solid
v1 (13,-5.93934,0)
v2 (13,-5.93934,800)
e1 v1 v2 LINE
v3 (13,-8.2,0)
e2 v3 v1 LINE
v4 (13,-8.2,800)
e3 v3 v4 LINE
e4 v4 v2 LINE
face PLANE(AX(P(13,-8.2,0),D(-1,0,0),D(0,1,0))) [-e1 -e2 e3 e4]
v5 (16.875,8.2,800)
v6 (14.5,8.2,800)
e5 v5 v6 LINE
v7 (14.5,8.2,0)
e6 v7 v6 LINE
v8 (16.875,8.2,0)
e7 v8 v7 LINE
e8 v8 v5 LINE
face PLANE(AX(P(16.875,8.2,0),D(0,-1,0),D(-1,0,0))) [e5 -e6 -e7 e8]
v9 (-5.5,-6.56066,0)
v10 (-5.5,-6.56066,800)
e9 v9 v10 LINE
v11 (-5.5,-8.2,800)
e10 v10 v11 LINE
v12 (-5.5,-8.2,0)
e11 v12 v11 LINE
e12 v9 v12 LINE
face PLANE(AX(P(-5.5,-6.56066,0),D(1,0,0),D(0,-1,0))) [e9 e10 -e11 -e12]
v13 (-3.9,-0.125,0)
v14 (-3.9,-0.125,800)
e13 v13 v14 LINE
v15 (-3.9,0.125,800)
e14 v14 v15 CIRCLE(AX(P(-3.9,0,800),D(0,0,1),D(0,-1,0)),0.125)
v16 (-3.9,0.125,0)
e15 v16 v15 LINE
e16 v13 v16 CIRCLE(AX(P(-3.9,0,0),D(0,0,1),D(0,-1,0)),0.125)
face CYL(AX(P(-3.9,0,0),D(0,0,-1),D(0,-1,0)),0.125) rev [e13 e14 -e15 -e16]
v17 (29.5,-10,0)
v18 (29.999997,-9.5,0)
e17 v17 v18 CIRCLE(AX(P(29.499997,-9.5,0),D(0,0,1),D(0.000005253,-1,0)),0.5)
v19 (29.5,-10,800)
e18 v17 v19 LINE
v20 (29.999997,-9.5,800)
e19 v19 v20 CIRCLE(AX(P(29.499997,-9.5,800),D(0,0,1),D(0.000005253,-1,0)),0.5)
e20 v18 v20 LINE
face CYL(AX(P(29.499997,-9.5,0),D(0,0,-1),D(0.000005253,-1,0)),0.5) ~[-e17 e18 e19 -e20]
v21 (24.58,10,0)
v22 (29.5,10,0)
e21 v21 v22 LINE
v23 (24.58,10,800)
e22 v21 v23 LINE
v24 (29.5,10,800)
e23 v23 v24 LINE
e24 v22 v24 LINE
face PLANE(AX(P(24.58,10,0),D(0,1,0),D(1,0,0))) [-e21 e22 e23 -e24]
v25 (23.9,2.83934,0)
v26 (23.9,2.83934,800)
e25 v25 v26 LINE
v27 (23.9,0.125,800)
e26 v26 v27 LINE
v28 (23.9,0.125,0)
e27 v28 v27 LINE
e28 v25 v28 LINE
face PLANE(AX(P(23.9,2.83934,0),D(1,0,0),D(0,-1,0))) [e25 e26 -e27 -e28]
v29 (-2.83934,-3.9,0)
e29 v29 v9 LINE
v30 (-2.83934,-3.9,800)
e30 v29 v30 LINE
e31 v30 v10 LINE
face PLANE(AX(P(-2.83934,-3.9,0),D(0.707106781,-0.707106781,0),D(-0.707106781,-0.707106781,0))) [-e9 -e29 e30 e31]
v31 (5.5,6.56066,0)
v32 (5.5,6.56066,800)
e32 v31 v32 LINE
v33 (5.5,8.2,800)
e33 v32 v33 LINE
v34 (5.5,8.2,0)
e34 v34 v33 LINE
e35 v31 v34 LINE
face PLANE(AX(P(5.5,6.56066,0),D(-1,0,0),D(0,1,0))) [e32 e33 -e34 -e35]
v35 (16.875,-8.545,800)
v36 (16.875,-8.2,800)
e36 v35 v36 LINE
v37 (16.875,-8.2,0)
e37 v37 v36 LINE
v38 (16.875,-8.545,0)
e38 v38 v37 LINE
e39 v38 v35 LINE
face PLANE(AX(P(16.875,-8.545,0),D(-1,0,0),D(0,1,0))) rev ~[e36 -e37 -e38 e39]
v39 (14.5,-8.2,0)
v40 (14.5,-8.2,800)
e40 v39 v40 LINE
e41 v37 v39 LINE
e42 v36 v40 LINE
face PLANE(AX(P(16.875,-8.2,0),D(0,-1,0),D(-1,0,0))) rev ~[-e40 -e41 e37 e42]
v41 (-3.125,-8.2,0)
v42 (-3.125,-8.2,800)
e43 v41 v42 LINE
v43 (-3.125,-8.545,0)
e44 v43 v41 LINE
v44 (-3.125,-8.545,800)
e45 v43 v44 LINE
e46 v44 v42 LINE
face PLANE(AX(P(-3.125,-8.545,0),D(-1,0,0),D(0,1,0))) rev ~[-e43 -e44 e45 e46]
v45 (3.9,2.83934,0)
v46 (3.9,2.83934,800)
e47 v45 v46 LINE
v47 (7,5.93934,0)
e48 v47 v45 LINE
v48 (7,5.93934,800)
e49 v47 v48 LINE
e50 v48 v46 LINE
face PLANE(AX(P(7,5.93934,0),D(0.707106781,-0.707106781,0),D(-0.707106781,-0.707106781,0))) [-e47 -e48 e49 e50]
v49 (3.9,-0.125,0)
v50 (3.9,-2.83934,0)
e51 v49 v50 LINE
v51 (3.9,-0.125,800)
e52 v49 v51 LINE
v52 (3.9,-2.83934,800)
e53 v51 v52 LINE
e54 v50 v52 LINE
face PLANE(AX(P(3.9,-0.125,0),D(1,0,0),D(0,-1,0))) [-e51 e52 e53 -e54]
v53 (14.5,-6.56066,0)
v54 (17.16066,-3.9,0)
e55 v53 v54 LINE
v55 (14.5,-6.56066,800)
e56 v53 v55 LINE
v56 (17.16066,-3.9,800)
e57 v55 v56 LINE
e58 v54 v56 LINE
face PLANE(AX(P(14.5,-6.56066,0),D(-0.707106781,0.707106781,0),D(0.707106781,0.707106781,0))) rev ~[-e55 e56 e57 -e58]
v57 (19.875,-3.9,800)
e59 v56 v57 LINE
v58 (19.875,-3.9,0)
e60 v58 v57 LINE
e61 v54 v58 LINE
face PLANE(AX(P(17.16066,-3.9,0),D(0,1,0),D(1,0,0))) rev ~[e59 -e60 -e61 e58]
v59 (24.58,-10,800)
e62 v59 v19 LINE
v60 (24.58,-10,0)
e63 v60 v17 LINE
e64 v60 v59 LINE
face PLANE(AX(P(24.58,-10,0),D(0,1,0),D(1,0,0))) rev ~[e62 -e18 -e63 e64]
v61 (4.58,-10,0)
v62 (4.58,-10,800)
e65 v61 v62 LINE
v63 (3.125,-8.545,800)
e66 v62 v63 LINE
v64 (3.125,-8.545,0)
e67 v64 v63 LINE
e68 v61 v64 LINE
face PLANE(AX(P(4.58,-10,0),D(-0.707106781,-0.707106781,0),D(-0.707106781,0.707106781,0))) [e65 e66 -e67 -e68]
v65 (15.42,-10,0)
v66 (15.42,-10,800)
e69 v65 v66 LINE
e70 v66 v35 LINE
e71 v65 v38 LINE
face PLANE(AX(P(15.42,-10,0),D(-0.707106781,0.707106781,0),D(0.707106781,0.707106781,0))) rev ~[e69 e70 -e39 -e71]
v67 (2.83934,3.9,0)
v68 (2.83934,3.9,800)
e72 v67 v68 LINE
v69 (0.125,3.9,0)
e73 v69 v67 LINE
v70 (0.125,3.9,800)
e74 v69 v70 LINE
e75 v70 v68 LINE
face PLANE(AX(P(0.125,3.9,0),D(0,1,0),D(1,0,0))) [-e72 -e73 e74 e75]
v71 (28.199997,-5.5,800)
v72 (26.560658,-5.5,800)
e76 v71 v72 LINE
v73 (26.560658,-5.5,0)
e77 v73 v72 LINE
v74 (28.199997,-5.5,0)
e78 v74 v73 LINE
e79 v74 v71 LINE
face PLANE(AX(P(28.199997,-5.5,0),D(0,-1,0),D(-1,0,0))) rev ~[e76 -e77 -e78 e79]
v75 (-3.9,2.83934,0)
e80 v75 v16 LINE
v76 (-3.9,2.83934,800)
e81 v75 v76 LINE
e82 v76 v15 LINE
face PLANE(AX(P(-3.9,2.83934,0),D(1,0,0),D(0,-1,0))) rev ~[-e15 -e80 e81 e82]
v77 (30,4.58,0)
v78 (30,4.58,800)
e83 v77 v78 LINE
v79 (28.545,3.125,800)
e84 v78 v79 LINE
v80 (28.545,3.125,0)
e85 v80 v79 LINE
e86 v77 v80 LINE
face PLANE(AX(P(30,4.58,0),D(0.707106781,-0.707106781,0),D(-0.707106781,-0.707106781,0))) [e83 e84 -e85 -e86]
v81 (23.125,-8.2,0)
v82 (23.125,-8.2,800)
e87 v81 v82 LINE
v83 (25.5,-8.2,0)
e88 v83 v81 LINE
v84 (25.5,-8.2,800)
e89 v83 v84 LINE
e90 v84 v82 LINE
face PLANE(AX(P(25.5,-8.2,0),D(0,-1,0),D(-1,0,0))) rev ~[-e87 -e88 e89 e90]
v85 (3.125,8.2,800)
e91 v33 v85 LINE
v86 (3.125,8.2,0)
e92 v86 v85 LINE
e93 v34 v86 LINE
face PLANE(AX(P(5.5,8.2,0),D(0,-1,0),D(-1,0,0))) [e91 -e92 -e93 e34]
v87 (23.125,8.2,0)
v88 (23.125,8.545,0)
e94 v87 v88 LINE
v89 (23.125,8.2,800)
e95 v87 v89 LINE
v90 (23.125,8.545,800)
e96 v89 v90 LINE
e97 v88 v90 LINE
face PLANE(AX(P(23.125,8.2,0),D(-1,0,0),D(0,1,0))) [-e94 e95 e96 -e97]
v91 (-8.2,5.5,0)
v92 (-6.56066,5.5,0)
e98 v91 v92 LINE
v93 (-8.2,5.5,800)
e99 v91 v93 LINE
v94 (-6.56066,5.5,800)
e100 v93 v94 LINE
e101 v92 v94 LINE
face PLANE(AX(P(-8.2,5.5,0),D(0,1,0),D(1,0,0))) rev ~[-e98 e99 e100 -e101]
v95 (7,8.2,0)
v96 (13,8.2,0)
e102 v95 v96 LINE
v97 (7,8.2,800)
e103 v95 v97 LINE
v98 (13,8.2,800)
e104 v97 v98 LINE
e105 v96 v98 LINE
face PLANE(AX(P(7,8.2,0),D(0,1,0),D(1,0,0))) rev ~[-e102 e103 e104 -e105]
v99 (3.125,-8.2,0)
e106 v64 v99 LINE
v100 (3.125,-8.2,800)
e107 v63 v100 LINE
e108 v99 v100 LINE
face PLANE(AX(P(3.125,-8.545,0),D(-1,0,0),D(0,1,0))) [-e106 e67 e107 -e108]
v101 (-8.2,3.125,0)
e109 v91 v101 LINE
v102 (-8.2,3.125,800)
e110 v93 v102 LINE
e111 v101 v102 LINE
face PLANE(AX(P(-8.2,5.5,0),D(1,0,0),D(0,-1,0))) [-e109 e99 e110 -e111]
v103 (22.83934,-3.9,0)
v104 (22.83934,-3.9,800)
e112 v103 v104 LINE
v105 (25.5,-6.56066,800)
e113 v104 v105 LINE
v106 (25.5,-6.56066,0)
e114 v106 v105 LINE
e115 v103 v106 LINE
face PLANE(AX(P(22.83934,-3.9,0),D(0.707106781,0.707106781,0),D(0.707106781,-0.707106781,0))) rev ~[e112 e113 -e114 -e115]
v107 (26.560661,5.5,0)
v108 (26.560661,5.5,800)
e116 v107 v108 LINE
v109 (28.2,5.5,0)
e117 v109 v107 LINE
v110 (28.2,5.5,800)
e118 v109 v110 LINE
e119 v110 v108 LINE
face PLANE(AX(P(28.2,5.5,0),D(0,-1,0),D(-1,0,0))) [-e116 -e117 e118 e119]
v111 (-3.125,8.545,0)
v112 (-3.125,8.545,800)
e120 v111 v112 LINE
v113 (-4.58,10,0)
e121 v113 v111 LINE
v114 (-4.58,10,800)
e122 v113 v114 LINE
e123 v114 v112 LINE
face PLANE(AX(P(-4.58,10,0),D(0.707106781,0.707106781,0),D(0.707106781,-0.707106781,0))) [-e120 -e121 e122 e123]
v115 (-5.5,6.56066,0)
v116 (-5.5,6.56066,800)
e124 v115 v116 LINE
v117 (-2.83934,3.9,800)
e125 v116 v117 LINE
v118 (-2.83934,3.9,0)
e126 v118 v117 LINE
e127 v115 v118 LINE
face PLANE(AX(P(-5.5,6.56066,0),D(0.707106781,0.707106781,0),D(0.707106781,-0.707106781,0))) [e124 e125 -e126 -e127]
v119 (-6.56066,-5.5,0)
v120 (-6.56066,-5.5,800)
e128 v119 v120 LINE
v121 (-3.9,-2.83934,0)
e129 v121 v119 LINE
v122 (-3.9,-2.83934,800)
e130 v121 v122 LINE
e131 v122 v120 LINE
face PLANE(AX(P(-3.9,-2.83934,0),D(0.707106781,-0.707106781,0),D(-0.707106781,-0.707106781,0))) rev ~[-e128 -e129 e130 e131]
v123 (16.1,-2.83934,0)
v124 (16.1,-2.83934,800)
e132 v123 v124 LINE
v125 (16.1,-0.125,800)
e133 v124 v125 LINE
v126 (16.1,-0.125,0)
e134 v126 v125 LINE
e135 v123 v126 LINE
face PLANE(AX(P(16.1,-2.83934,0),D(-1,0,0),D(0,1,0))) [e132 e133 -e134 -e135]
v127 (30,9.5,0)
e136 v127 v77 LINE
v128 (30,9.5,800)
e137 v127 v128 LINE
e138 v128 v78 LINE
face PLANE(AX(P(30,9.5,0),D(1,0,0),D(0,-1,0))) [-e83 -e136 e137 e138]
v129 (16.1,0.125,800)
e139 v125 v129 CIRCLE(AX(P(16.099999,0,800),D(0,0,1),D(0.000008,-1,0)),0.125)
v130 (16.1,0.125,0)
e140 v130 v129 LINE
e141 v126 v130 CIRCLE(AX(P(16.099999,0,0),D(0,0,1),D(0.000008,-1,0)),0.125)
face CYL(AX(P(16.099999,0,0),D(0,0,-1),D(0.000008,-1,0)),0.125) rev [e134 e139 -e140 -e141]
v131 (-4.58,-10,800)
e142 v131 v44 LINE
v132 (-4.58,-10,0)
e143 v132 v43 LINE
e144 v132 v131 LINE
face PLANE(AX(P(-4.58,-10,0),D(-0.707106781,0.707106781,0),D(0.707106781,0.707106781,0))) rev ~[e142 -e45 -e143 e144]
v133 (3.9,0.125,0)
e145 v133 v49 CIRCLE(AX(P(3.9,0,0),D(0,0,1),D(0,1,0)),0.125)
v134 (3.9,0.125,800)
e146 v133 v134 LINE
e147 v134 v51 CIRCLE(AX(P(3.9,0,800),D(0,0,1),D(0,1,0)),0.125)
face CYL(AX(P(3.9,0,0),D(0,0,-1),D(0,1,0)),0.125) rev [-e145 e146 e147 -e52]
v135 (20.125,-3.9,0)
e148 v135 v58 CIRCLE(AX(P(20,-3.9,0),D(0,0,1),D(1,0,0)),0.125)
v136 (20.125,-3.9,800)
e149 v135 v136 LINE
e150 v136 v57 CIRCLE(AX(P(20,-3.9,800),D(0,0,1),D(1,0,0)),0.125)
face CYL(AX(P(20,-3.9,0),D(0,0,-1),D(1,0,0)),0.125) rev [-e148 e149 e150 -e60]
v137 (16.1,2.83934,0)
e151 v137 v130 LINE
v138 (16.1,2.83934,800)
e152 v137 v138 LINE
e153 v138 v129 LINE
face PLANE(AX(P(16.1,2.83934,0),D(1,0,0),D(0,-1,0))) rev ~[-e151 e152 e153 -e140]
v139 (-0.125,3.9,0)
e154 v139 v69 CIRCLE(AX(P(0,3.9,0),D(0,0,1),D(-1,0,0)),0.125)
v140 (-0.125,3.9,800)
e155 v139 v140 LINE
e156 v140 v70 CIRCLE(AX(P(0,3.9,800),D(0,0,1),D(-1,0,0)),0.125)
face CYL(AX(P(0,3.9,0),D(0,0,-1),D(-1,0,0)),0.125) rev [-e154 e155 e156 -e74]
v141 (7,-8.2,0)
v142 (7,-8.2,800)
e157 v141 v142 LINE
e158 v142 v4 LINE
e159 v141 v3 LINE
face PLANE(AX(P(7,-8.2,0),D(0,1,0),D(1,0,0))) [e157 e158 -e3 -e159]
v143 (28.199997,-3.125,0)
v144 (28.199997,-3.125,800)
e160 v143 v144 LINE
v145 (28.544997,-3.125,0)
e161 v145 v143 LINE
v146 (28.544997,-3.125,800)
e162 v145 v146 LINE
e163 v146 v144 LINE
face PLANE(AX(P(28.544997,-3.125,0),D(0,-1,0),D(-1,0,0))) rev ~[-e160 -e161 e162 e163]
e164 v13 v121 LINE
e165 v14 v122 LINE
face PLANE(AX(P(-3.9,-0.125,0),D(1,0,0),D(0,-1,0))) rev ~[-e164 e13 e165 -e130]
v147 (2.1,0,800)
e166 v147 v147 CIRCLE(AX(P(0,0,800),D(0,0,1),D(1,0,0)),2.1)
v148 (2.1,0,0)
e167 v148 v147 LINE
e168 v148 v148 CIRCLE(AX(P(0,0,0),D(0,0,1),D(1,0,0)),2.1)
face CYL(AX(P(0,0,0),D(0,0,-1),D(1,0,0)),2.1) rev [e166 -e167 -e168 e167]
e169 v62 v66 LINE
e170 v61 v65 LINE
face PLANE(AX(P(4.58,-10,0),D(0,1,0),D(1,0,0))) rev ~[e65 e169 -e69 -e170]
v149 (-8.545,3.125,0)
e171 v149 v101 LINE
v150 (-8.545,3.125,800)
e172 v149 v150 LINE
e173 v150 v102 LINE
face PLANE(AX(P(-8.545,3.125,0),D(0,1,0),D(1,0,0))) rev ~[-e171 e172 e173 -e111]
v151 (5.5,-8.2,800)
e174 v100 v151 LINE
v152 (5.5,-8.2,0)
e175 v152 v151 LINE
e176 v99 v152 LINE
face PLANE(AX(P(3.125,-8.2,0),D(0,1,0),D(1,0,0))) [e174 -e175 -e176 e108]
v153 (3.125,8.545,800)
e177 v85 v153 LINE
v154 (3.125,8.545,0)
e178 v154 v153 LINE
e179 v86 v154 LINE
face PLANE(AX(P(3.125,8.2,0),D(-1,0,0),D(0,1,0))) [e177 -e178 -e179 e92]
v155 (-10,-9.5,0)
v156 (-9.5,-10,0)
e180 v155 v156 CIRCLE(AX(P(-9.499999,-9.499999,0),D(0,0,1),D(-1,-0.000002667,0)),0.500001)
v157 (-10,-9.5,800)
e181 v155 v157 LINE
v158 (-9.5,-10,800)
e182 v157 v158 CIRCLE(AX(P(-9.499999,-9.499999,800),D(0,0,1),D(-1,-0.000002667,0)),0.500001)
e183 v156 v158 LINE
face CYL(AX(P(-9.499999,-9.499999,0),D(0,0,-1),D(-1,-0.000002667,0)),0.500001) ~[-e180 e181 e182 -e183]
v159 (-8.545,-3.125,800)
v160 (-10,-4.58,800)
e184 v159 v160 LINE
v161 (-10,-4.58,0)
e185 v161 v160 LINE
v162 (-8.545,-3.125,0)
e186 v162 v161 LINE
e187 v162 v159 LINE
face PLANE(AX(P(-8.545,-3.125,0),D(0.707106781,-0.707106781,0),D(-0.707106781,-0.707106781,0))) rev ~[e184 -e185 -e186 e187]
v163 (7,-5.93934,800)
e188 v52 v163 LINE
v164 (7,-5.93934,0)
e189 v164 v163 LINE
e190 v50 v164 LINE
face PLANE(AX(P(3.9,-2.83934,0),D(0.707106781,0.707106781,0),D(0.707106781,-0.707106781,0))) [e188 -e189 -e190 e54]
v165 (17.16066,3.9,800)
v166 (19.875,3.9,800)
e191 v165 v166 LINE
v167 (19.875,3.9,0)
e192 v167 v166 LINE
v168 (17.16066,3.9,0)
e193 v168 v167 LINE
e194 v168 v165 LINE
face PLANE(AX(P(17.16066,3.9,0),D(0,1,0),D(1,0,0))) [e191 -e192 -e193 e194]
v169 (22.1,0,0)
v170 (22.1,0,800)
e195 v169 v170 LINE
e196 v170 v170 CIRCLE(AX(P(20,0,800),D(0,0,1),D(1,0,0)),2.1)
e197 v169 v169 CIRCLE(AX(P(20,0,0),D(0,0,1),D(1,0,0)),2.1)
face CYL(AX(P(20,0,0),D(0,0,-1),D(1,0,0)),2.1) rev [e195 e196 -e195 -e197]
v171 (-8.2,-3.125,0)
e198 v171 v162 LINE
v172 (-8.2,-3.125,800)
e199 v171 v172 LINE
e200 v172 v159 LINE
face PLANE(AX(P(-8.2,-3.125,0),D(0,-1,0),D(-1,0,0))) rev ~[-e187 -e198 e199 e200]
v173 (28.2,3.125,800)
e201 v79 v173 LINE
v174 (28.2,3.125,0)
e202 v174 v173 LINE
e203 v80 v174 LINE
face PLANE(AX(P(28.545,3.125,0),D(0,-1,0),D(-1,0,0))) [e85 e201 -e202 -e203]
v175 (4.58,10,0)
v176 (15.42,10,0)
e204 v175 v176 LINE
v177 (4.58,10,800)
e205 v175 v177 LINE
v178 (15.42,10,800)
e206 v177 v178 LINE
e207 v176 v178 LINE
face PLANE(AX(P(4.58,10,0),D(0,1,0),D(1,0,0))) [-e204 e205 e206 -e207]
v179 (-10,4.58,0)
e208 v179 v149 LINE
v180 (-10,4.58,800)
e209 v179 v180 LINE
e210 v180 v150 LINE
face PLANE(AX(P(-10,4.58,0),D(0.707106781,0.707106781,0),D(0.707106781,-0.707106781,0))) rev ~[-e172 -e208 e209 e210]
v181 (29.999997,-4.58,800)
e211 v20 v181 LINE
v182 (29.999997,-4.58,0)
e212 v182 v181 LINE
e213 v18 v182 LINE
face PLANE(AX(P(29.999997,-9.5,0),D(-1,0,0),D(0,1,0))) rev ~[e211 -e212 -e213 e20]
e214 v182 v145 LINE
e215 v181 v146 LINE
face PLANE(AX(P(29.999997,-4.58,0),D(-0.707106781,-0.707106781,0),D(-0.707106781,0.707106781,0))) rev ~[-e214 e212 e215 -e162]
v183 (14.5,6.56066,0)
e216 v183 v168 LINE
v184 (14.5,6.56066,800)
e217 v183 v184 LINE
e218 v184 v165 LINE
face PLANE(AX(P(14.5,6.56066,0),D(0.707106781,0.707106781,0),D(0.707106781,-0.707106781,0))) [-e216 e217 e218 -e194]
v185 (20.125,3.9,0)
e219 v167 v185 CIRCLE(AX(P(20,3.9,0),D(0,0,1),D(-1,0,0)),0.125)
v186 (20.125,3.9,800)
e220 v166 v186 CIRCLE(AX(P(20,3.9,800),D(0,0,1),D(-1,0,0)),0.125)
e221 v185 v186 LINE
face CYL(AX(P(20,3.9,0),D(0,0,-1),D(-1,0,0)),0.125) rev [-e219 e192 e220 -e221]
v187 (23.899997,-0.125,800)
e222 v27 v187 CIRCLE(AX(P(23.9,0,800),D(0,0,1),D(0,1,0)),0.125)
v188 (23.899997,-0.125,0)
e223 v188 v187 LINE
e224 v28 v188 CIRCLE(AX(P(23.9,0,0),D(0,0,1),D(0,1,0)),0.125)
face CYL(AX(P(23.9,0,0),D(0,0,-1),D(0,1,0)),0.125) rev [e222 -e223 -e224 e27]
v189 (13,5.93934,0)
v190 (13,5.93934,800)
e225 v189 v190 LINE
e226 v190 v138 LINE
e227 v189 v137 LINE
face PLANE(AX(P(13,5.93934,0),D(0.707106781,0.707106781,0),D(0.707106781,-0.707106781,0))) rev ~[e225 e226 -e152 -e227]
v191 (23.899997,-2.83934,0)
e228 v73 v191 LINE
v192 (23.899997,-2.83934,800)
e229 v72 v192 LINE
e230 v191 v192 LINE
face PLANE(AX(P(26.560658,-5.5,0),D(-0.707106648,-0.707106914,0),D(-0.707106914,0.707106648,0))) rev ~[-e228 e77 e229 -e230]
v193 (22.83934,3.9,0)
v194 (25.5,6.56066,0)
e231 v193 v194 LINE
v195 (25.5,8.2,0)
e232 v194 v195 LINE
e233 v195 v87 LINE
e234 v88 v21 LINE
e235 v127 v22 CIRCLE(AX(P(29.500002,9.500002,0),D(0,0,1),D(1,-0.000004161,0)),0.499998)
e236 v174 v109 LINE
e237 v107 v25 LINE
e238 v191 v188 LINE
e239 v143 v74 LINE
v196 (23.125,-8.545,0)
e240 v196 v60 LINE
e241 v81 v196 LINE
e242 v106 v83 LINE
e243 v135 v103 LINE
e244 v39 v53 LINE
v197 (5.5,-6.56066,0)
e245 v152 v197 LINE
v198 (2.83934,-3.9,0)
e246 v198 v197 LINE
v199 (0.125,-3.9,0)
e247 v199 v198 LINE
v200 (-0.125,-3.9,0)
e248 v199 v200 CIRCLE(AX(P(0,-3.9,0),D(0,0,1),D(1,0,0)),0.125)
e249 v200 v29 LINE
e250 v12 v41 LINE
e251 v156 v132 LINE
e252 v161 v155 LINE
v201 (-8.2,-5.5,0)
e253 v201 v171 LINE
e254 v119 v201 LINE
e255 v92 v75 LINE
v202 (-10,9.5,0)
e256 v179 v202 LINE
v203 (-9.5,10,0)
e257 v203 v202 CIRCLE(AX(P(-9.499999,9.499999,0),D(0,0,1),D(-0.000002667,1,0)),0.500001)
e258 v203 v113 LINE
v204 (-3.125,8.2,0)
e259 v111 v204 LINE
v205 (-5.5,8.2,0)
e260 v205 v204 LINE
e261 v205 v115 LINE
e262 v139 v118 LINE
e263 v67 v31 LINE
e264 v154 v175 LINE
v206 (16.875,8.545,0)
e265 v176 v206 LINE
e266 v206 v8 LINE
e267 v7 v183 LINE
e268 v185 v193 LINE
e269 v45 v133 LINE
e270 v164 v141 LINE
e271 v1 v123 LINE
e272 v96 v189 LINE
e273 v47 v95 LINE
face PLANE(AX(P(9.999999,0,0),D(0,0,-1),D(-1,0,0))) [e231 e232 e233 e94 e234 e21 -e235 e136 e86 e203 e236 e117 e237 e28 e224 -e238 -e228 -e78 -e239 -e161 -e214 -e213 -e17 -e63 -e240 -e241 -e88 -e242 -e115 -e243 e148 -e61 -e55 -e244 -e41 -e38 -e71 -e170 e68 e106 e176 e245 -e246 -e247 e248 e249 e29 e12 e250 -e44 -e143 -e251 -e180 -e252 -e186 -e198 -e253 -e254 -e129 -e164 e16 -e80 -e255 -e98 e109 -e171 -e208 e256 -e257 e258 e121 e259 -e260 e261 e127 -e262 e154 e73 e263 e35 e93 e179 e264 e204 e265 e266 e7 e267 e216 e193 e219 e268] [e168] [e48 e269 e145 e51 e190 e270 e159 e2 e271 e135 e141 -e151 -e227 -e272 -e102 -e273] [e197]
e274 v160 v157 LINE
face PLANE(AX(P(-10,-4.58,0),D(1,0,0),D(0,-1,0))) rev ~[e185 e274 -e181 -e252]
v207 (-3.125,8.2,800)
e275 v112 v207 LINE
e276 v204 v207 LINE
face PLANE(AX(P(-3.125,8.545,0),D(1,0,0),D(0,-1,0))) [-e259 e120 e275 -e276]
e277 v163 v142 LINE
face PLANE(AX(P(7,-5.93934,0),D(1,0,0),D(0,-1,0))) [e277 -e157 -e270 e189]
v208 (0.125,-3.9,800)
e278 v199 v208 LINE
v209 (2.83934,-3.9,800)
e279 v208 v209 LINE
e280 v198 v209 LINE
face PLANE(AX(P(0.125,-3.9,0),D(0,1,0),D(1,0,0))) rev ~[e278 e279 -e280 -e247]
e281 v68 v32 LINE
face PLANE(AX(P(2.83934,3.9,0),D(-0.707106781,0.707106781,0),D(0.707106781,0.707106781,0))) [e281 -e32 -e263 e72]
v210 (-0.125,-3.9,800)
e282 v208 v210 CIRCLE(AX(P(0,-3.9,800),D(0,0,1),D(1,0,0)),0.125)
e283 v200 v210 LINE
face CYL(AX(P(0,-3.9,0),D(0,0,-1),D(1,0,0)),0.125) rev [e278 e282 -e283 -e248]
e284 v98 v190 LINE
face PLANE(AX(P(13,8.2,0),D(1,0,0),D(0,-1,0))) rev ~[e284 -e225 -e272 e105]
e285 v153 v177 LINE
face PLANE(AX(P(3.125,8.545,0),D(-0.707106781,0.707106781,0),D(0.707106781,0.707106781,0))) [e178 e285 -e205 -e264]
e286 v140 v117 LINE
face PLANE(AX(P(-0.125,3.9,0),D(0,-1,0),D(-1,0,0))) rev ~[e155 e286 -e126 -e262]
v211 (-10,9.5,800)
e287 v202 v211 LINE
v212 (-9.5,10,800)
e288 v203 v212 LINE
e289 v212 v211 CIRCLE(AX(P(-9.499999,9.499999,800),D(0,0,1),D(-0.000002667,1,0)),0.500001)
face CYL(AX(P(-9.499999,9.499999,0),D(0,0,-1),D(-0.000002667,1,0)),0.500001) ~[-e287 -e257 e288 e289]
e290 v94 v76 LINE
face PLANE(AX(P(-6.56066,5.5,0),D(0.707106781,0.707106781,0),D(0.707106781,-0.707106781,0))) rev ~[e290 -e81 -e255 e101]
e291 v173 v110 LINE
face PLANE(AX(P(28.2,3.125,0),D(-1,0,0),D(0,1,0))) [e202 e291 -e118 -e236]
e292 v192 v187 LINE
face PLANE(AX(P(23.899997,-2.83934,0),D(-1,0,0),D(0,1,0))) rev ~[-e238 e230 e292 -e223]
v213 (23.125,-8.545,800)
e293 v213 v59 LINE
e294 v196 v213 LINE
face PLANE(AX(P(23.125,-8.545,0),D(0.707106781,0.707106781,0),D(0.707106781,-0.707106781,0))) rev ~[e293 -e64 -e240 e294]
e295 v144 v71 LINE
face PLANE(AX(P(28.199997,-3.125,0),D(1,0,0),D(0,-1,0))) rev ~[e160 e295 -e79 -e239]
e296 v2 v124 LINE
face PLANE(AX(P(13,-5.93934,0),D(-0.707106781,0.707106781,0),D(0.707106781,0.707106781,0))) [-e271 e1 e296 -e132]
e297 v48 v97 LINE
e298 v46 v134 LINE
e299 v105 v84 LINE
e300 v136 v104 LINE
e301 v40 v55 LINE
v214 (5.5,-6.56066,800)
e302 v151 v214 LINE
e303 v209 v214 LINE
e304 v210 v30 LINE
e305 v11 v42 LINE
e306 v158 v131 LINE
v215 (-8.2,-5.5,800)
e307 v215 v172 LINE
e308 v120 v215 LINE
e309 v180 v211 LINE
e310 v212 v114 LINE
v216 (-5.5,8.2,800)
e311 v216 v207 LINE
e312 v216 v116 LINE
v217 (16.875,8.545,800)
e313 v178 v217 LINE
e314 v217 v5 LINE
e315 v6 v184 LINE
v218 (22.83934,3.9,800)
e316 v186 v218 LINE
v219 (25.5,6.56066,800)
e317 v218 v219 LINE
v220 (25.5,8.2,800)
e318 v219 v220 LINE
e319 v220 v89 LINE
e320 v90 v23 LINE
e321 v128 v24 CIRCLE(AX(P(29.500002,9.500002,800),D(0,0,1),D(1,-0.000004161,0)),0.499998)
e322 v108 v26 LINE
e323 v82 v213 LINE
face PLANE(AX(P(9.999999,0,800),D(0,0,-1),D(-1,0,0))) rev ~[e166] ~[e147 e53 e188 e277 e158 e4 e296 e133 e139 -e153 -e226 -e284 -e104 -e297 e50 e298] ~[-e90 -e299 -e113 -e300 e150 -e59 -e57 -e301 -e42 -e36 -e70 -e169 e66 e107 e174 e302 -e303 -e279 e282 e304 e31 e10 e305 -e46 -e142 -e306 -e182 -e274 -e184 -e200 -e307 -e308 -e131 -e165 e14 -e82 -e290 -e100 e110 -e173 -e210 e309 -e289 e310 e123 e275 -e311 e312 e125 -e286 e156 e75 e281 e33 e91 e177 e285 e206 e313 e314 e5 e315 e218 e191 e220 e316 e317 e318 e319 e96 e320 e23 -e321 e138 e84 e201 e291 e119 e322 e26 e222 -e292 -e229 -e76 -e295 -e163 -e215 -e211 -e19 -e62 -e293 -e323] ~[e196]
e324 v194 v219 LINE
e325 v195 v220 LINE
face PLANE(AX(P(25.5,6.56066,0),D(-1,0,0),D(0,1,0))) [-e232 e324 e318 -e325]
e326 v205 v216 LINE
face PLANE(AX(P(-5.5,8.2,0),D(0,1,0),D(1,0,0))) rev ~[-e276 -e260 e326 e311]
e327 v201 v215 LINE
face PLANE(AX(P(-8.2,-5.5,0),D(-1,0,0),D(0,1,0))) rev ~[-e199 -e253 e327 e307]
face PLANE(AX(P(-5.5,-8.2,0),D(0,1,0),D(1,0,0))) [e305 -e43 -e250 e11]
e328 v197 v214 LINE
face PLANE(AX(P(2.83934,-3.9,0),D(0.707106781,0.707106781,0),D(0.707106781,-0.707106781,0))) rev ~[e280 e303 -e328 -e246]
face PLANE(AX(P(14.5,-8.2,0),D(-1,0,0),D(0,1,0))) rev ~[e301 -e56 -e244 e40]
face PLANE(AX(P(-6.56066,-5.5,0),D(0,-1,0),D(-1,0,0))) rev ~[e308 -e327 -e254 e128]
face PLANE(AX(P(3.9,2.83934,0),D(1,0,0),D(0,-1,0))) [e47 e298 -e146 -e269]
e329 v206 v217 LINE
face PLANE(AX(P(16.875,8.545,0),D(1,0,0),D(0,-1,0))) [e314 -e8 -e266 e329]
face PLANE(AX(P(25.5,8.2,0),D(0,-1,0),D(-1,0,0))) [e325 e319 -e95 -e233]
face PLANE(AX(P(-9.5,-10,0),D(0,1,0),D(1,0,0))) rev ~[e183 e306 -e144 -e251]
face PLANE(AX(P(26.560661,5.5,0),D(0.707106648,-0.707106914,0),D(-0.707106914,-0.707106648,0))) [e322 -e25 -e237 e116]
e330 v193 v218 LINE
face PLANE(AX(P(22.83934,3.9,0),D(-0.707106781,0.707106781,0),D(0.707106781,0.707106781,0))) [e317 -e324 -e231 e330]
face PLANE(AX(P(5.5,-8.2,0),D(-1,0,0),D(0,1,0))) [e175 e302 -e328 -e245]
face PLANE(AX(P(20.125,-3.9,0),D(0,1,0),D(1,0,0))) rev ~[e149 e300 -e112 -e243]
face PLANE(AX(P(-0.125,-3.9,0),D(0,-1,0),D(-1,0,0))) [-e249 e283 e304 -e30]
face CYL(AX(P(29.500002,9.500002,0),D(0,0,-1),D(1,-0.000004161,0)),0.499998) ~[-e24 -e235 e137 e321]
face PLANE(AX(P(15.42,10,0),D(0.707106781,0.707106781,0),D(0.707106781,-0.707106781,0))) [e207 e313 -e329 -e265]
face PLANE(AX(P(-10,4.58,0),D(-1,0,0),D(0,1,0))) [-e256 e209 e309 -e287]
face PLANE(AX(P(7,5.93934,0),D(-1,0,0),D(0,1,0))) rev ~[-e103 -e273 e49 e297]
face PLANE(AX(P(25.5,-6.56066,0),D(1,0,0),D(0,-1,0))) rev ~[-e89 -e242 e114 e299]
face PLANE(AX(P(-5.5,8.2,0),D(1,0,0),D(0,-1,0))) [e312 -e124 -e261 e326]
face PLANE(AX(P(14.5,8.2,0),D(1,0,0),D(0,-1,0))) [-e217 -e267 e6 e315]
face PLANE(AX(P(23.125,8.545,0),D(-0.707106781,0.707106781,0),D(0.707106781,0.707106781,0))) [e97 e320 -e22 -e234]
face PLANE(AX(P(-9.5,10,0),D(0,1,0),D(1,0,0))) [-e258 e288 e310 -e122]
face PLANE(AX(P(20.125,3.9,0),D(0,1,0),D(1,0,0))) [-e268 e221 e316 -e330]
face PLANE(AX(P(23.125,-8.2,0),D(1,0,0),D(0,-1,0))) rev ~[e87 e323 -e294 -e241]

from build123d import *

# Parameters (mm, degrees)
SKETCH_R  = 2.1
PAD_DEPTH = 800


with BuildPart() as part:
    # Sketch → Pad (new body)
    with BuildSketch(Plane.XY):
        with BuildLine():
            Line((-10, 4.58), (-10, 9.5))
            ThreePointArc((-9.5, 10), (-9.853553, 9.853553), (-10, 9.5))
            Line((-9.5, 10), (-4.58, 10))
            Line((-4.58, 10), (-3.125, 8.545))
            Line((-3.125, 8.545), (-3.125, 8.2))
            Line((-5.5, 8.2), (-3.125, 8.2))
            Line((-5.5, 8.2), (-5.5, 6.56066))
            Line((-5.5, 6.56066), (-2.83934, 3.9))
            Line((-0.125, 3.9), (-2.83934, 3.9))
            ThreePointArc((-0.125, 3.9), (0, 3.775), (0.125, 3.9))
            Line((0.125, 3.9), (2.83934, 3.9))
            Line((2.83934, 3.9), (5.5, 6.56066))
            Line((5.5, 6.56066), (5.5, 8.2))
            Line((5.5, 8.2), (3.125, 8.2))
            Line((3.125, 8.2), (3.125, 8.545))
            Line((3.125, 8.545), (4.58, 10))
            Line((4.58, 10), (15.42, 10))
            Line((15.42, 10), (16.875, 8.545))
            Line((16.875, 8.545), (16.875, 8.2))
            Line((16.875, 8.2), (14.5, 8.2))
            Line((14.5, 8.2), (14.5, 6.56066))
            Line((14.5, 6.56066), (17.16066, 3.9))
            Line((17.16066, 3.9), (19.875, 3.9))
            ThreePointArc((19.875, 3.9), (20, 3.775), (20.125, 3.9))
            Line((20.125, 3.9), (22.83934, 3.9))
            Line((22.83934, 3.9), (25.5, 6.56066))
            Line((25.5, 6.56066), (25.5, 8.2))
            Line((25.5, 8.2), (23.125, 8.2))
            Line((23.125, 8.2), (23.125, 8.545))
            Line((23.125, 8.545), (24.58, 10))
            Line((24.58, 10), (29.5, 10))
            ThreePointArc((30, 9.5), (29.853554, 9.853554), (29.5, 10))
            Line((30, 9.5), (30, 4.58))
            Line((30, 4.58), (28.545, 3.125))
            Line((28.545, 3.125), (28.2, 3.125))
            Line((28.2, 3.125), (28.2, 5.5))
            Line((28.2, 5.5), (26.560661, 5.5))
            Line((26.560661, 5.5), (23.9, 2.83934))
            Line((23.9, 2.83934), (23.9, 0.125))
            ThreePointArc((23.9, 0.125), (23.775, 2e-06), (23.899997, -0.125))
            Line((23.899997, -2.83934), (23.899997, -0.125))
            Line((26.560658, -5.5), (23.899997, -2.83934))
            Line((28.199997, -5.5), (26.560658, -5.5))
            Line((28.199997, -3.125), (28.199997, -5.5))
            Line((28.544997, -3.125), (28.199997, -3.125))
            Line((29.999997, -4.58), (28.544997, -3.125))
            Line((29.999997, -9.5), (29.999997, -4.58))
            ThreePointArc((29.5, -10), (29.853552, -9.853552), (29.999997, -9.5))
            Line((24.58, -10), (29.5, -10))
            Line((23.125, -8.545), (24.58, -10))
            Line((23.125, -8.2), (23.125, -8.545))
            Line((25.5, -8.2), (23.125, -8.2))
            Line((25.5, -6.56066), (25.5, -8.2))
            Line((22.83934, -3.9), (25.5, -6.56066))
            Line((20.125, -3.9), (22.83934, -3.9))
            ThreePointArc((20.125, -3.9), (20, -3.775), (19.875, -3.9))
            Line((17.16066, -3.9), (19.875, -3.9))
            Line((14.5, -6.56066), (17.16066, -3.9))
            Line((14.5, -8.2), (14.5, -6.56066))
            Line((16.875, -8.2), (14.5, -8.2))
            Line((16.875, -8.545), (16.875, -8.2))
            Line((15.42, -10), (16.875, -8.545))
            Line((4.58, -10), (15.42, -10))
            Line((4.58, -10), (3.125, -8.545))
            Line((3.125, -8.545), (3.125, -8.2))
            Line((3.125, -8.2), (5.5, -8.2))
            Line((5.5, -8.2), (5.5, -6.56066))
            Line((2.83934, -3.9), (5.5, -6.56066))
            Line((0.125, -3.9), (2.83934, -3.9))
            ThreePointArc((0.125, -3.9), (0, -3.775), (-0.125, -3.9))
            Line((-0.125, -3.9), (-2.83934, -3.9))
            Line((-2.83934, -3.9), (-5.5, -6.56066))
            Line((-5.5, -6.56066), (-5.5, -8.2))
            Line((-5.5, -8.2), (-3.125, -8.2))
            Line((-3.125, -8.545), (-3.125, -8.2))
            Line((-4.58, -10), (-3.125, -8.545))
            Line((-9.5, -10), (-4.58, -10))
            ThreePointArc((-10, -9.5), (-9.853553, -9.853553), (-9.5, -10))
            Line((-10, -4.58), (-10, -9.5))
            Line((-8.545, -3.125), (-10, -4.58))
            Line((-8.2, -3.125), (-8.545, -3.125))
            Line((-8.2, -5.5), (-8.2, -3.125))
            Line((-6.56066, -5.5), (-8.2, -5.5))
            Line((-3.9, -2.83934), (-6.56066, -5.5))
            Line((-3.9, -0.125), (-3.9, -2.83934))
            ThreePointArc((-3.9, -0.125), (-3.775, 0), (-3.9, 0.125))
            Line((-3.9, 2.83934), (-3.9, 0.125))
            Line((-6.56066, 5.5), (-3.9, 2.83934))
            Line((-8.2, 5.5), (-6.56066, 5.5))
            Line((-8.2, 5.5), (-8.2, 3.125))
            Line((-8.545, 3.125), (-8.2, 3.125))
            Line((-10, 4.58), (-8.545, 3.125))
        make_face()
        Circle(SKETCH_R, mode=Mode.SUBTRACT)
        with Locations((20, 0)):
            Circle(SKETCH_R, mode=Mode.SUBTRACT)
        with BuildLine():
            Line((7, 5.93934), (3.9, 2.83934))
            Line((3.9, 2.83934), (3.9, 0.125))
            ThreePointArc((3.9, 0.125), (3.775, 0), (3.9, -0.125))
            Line((3.9, -0.125), (3.9, -2.83934))
            Line((3.9, -2.83934), (7, -5.93934))
            Line((7, -5.93934), (7, -8.2))
            Line((7, -8.2), (13, -8.2))
            Line((13, -8.2), (13, -5.93934))
            Line((13, -5.93934), (16.1, -2.83934))
            Line((16.1, -2.83934), (16.1, -0.125))
            ThreePointArc((16.1, -0.125), (16.224999, 0), (16.1, 0.125))
            Line((16.1, 2.83934), (16.1, 0.125))
            Line((13, 5.93934), (16.1, 2.83934))
            Line((13, 8.2), (13, 5.93934))
            Line((7, 8.2), (13, 8.2))
            Line((7, 5.93934), (7, 8.2))
        make_face(mode=Mode.SUBTRACT)
    extrude(amount=PAD_DEPTH)


solid = part.part
